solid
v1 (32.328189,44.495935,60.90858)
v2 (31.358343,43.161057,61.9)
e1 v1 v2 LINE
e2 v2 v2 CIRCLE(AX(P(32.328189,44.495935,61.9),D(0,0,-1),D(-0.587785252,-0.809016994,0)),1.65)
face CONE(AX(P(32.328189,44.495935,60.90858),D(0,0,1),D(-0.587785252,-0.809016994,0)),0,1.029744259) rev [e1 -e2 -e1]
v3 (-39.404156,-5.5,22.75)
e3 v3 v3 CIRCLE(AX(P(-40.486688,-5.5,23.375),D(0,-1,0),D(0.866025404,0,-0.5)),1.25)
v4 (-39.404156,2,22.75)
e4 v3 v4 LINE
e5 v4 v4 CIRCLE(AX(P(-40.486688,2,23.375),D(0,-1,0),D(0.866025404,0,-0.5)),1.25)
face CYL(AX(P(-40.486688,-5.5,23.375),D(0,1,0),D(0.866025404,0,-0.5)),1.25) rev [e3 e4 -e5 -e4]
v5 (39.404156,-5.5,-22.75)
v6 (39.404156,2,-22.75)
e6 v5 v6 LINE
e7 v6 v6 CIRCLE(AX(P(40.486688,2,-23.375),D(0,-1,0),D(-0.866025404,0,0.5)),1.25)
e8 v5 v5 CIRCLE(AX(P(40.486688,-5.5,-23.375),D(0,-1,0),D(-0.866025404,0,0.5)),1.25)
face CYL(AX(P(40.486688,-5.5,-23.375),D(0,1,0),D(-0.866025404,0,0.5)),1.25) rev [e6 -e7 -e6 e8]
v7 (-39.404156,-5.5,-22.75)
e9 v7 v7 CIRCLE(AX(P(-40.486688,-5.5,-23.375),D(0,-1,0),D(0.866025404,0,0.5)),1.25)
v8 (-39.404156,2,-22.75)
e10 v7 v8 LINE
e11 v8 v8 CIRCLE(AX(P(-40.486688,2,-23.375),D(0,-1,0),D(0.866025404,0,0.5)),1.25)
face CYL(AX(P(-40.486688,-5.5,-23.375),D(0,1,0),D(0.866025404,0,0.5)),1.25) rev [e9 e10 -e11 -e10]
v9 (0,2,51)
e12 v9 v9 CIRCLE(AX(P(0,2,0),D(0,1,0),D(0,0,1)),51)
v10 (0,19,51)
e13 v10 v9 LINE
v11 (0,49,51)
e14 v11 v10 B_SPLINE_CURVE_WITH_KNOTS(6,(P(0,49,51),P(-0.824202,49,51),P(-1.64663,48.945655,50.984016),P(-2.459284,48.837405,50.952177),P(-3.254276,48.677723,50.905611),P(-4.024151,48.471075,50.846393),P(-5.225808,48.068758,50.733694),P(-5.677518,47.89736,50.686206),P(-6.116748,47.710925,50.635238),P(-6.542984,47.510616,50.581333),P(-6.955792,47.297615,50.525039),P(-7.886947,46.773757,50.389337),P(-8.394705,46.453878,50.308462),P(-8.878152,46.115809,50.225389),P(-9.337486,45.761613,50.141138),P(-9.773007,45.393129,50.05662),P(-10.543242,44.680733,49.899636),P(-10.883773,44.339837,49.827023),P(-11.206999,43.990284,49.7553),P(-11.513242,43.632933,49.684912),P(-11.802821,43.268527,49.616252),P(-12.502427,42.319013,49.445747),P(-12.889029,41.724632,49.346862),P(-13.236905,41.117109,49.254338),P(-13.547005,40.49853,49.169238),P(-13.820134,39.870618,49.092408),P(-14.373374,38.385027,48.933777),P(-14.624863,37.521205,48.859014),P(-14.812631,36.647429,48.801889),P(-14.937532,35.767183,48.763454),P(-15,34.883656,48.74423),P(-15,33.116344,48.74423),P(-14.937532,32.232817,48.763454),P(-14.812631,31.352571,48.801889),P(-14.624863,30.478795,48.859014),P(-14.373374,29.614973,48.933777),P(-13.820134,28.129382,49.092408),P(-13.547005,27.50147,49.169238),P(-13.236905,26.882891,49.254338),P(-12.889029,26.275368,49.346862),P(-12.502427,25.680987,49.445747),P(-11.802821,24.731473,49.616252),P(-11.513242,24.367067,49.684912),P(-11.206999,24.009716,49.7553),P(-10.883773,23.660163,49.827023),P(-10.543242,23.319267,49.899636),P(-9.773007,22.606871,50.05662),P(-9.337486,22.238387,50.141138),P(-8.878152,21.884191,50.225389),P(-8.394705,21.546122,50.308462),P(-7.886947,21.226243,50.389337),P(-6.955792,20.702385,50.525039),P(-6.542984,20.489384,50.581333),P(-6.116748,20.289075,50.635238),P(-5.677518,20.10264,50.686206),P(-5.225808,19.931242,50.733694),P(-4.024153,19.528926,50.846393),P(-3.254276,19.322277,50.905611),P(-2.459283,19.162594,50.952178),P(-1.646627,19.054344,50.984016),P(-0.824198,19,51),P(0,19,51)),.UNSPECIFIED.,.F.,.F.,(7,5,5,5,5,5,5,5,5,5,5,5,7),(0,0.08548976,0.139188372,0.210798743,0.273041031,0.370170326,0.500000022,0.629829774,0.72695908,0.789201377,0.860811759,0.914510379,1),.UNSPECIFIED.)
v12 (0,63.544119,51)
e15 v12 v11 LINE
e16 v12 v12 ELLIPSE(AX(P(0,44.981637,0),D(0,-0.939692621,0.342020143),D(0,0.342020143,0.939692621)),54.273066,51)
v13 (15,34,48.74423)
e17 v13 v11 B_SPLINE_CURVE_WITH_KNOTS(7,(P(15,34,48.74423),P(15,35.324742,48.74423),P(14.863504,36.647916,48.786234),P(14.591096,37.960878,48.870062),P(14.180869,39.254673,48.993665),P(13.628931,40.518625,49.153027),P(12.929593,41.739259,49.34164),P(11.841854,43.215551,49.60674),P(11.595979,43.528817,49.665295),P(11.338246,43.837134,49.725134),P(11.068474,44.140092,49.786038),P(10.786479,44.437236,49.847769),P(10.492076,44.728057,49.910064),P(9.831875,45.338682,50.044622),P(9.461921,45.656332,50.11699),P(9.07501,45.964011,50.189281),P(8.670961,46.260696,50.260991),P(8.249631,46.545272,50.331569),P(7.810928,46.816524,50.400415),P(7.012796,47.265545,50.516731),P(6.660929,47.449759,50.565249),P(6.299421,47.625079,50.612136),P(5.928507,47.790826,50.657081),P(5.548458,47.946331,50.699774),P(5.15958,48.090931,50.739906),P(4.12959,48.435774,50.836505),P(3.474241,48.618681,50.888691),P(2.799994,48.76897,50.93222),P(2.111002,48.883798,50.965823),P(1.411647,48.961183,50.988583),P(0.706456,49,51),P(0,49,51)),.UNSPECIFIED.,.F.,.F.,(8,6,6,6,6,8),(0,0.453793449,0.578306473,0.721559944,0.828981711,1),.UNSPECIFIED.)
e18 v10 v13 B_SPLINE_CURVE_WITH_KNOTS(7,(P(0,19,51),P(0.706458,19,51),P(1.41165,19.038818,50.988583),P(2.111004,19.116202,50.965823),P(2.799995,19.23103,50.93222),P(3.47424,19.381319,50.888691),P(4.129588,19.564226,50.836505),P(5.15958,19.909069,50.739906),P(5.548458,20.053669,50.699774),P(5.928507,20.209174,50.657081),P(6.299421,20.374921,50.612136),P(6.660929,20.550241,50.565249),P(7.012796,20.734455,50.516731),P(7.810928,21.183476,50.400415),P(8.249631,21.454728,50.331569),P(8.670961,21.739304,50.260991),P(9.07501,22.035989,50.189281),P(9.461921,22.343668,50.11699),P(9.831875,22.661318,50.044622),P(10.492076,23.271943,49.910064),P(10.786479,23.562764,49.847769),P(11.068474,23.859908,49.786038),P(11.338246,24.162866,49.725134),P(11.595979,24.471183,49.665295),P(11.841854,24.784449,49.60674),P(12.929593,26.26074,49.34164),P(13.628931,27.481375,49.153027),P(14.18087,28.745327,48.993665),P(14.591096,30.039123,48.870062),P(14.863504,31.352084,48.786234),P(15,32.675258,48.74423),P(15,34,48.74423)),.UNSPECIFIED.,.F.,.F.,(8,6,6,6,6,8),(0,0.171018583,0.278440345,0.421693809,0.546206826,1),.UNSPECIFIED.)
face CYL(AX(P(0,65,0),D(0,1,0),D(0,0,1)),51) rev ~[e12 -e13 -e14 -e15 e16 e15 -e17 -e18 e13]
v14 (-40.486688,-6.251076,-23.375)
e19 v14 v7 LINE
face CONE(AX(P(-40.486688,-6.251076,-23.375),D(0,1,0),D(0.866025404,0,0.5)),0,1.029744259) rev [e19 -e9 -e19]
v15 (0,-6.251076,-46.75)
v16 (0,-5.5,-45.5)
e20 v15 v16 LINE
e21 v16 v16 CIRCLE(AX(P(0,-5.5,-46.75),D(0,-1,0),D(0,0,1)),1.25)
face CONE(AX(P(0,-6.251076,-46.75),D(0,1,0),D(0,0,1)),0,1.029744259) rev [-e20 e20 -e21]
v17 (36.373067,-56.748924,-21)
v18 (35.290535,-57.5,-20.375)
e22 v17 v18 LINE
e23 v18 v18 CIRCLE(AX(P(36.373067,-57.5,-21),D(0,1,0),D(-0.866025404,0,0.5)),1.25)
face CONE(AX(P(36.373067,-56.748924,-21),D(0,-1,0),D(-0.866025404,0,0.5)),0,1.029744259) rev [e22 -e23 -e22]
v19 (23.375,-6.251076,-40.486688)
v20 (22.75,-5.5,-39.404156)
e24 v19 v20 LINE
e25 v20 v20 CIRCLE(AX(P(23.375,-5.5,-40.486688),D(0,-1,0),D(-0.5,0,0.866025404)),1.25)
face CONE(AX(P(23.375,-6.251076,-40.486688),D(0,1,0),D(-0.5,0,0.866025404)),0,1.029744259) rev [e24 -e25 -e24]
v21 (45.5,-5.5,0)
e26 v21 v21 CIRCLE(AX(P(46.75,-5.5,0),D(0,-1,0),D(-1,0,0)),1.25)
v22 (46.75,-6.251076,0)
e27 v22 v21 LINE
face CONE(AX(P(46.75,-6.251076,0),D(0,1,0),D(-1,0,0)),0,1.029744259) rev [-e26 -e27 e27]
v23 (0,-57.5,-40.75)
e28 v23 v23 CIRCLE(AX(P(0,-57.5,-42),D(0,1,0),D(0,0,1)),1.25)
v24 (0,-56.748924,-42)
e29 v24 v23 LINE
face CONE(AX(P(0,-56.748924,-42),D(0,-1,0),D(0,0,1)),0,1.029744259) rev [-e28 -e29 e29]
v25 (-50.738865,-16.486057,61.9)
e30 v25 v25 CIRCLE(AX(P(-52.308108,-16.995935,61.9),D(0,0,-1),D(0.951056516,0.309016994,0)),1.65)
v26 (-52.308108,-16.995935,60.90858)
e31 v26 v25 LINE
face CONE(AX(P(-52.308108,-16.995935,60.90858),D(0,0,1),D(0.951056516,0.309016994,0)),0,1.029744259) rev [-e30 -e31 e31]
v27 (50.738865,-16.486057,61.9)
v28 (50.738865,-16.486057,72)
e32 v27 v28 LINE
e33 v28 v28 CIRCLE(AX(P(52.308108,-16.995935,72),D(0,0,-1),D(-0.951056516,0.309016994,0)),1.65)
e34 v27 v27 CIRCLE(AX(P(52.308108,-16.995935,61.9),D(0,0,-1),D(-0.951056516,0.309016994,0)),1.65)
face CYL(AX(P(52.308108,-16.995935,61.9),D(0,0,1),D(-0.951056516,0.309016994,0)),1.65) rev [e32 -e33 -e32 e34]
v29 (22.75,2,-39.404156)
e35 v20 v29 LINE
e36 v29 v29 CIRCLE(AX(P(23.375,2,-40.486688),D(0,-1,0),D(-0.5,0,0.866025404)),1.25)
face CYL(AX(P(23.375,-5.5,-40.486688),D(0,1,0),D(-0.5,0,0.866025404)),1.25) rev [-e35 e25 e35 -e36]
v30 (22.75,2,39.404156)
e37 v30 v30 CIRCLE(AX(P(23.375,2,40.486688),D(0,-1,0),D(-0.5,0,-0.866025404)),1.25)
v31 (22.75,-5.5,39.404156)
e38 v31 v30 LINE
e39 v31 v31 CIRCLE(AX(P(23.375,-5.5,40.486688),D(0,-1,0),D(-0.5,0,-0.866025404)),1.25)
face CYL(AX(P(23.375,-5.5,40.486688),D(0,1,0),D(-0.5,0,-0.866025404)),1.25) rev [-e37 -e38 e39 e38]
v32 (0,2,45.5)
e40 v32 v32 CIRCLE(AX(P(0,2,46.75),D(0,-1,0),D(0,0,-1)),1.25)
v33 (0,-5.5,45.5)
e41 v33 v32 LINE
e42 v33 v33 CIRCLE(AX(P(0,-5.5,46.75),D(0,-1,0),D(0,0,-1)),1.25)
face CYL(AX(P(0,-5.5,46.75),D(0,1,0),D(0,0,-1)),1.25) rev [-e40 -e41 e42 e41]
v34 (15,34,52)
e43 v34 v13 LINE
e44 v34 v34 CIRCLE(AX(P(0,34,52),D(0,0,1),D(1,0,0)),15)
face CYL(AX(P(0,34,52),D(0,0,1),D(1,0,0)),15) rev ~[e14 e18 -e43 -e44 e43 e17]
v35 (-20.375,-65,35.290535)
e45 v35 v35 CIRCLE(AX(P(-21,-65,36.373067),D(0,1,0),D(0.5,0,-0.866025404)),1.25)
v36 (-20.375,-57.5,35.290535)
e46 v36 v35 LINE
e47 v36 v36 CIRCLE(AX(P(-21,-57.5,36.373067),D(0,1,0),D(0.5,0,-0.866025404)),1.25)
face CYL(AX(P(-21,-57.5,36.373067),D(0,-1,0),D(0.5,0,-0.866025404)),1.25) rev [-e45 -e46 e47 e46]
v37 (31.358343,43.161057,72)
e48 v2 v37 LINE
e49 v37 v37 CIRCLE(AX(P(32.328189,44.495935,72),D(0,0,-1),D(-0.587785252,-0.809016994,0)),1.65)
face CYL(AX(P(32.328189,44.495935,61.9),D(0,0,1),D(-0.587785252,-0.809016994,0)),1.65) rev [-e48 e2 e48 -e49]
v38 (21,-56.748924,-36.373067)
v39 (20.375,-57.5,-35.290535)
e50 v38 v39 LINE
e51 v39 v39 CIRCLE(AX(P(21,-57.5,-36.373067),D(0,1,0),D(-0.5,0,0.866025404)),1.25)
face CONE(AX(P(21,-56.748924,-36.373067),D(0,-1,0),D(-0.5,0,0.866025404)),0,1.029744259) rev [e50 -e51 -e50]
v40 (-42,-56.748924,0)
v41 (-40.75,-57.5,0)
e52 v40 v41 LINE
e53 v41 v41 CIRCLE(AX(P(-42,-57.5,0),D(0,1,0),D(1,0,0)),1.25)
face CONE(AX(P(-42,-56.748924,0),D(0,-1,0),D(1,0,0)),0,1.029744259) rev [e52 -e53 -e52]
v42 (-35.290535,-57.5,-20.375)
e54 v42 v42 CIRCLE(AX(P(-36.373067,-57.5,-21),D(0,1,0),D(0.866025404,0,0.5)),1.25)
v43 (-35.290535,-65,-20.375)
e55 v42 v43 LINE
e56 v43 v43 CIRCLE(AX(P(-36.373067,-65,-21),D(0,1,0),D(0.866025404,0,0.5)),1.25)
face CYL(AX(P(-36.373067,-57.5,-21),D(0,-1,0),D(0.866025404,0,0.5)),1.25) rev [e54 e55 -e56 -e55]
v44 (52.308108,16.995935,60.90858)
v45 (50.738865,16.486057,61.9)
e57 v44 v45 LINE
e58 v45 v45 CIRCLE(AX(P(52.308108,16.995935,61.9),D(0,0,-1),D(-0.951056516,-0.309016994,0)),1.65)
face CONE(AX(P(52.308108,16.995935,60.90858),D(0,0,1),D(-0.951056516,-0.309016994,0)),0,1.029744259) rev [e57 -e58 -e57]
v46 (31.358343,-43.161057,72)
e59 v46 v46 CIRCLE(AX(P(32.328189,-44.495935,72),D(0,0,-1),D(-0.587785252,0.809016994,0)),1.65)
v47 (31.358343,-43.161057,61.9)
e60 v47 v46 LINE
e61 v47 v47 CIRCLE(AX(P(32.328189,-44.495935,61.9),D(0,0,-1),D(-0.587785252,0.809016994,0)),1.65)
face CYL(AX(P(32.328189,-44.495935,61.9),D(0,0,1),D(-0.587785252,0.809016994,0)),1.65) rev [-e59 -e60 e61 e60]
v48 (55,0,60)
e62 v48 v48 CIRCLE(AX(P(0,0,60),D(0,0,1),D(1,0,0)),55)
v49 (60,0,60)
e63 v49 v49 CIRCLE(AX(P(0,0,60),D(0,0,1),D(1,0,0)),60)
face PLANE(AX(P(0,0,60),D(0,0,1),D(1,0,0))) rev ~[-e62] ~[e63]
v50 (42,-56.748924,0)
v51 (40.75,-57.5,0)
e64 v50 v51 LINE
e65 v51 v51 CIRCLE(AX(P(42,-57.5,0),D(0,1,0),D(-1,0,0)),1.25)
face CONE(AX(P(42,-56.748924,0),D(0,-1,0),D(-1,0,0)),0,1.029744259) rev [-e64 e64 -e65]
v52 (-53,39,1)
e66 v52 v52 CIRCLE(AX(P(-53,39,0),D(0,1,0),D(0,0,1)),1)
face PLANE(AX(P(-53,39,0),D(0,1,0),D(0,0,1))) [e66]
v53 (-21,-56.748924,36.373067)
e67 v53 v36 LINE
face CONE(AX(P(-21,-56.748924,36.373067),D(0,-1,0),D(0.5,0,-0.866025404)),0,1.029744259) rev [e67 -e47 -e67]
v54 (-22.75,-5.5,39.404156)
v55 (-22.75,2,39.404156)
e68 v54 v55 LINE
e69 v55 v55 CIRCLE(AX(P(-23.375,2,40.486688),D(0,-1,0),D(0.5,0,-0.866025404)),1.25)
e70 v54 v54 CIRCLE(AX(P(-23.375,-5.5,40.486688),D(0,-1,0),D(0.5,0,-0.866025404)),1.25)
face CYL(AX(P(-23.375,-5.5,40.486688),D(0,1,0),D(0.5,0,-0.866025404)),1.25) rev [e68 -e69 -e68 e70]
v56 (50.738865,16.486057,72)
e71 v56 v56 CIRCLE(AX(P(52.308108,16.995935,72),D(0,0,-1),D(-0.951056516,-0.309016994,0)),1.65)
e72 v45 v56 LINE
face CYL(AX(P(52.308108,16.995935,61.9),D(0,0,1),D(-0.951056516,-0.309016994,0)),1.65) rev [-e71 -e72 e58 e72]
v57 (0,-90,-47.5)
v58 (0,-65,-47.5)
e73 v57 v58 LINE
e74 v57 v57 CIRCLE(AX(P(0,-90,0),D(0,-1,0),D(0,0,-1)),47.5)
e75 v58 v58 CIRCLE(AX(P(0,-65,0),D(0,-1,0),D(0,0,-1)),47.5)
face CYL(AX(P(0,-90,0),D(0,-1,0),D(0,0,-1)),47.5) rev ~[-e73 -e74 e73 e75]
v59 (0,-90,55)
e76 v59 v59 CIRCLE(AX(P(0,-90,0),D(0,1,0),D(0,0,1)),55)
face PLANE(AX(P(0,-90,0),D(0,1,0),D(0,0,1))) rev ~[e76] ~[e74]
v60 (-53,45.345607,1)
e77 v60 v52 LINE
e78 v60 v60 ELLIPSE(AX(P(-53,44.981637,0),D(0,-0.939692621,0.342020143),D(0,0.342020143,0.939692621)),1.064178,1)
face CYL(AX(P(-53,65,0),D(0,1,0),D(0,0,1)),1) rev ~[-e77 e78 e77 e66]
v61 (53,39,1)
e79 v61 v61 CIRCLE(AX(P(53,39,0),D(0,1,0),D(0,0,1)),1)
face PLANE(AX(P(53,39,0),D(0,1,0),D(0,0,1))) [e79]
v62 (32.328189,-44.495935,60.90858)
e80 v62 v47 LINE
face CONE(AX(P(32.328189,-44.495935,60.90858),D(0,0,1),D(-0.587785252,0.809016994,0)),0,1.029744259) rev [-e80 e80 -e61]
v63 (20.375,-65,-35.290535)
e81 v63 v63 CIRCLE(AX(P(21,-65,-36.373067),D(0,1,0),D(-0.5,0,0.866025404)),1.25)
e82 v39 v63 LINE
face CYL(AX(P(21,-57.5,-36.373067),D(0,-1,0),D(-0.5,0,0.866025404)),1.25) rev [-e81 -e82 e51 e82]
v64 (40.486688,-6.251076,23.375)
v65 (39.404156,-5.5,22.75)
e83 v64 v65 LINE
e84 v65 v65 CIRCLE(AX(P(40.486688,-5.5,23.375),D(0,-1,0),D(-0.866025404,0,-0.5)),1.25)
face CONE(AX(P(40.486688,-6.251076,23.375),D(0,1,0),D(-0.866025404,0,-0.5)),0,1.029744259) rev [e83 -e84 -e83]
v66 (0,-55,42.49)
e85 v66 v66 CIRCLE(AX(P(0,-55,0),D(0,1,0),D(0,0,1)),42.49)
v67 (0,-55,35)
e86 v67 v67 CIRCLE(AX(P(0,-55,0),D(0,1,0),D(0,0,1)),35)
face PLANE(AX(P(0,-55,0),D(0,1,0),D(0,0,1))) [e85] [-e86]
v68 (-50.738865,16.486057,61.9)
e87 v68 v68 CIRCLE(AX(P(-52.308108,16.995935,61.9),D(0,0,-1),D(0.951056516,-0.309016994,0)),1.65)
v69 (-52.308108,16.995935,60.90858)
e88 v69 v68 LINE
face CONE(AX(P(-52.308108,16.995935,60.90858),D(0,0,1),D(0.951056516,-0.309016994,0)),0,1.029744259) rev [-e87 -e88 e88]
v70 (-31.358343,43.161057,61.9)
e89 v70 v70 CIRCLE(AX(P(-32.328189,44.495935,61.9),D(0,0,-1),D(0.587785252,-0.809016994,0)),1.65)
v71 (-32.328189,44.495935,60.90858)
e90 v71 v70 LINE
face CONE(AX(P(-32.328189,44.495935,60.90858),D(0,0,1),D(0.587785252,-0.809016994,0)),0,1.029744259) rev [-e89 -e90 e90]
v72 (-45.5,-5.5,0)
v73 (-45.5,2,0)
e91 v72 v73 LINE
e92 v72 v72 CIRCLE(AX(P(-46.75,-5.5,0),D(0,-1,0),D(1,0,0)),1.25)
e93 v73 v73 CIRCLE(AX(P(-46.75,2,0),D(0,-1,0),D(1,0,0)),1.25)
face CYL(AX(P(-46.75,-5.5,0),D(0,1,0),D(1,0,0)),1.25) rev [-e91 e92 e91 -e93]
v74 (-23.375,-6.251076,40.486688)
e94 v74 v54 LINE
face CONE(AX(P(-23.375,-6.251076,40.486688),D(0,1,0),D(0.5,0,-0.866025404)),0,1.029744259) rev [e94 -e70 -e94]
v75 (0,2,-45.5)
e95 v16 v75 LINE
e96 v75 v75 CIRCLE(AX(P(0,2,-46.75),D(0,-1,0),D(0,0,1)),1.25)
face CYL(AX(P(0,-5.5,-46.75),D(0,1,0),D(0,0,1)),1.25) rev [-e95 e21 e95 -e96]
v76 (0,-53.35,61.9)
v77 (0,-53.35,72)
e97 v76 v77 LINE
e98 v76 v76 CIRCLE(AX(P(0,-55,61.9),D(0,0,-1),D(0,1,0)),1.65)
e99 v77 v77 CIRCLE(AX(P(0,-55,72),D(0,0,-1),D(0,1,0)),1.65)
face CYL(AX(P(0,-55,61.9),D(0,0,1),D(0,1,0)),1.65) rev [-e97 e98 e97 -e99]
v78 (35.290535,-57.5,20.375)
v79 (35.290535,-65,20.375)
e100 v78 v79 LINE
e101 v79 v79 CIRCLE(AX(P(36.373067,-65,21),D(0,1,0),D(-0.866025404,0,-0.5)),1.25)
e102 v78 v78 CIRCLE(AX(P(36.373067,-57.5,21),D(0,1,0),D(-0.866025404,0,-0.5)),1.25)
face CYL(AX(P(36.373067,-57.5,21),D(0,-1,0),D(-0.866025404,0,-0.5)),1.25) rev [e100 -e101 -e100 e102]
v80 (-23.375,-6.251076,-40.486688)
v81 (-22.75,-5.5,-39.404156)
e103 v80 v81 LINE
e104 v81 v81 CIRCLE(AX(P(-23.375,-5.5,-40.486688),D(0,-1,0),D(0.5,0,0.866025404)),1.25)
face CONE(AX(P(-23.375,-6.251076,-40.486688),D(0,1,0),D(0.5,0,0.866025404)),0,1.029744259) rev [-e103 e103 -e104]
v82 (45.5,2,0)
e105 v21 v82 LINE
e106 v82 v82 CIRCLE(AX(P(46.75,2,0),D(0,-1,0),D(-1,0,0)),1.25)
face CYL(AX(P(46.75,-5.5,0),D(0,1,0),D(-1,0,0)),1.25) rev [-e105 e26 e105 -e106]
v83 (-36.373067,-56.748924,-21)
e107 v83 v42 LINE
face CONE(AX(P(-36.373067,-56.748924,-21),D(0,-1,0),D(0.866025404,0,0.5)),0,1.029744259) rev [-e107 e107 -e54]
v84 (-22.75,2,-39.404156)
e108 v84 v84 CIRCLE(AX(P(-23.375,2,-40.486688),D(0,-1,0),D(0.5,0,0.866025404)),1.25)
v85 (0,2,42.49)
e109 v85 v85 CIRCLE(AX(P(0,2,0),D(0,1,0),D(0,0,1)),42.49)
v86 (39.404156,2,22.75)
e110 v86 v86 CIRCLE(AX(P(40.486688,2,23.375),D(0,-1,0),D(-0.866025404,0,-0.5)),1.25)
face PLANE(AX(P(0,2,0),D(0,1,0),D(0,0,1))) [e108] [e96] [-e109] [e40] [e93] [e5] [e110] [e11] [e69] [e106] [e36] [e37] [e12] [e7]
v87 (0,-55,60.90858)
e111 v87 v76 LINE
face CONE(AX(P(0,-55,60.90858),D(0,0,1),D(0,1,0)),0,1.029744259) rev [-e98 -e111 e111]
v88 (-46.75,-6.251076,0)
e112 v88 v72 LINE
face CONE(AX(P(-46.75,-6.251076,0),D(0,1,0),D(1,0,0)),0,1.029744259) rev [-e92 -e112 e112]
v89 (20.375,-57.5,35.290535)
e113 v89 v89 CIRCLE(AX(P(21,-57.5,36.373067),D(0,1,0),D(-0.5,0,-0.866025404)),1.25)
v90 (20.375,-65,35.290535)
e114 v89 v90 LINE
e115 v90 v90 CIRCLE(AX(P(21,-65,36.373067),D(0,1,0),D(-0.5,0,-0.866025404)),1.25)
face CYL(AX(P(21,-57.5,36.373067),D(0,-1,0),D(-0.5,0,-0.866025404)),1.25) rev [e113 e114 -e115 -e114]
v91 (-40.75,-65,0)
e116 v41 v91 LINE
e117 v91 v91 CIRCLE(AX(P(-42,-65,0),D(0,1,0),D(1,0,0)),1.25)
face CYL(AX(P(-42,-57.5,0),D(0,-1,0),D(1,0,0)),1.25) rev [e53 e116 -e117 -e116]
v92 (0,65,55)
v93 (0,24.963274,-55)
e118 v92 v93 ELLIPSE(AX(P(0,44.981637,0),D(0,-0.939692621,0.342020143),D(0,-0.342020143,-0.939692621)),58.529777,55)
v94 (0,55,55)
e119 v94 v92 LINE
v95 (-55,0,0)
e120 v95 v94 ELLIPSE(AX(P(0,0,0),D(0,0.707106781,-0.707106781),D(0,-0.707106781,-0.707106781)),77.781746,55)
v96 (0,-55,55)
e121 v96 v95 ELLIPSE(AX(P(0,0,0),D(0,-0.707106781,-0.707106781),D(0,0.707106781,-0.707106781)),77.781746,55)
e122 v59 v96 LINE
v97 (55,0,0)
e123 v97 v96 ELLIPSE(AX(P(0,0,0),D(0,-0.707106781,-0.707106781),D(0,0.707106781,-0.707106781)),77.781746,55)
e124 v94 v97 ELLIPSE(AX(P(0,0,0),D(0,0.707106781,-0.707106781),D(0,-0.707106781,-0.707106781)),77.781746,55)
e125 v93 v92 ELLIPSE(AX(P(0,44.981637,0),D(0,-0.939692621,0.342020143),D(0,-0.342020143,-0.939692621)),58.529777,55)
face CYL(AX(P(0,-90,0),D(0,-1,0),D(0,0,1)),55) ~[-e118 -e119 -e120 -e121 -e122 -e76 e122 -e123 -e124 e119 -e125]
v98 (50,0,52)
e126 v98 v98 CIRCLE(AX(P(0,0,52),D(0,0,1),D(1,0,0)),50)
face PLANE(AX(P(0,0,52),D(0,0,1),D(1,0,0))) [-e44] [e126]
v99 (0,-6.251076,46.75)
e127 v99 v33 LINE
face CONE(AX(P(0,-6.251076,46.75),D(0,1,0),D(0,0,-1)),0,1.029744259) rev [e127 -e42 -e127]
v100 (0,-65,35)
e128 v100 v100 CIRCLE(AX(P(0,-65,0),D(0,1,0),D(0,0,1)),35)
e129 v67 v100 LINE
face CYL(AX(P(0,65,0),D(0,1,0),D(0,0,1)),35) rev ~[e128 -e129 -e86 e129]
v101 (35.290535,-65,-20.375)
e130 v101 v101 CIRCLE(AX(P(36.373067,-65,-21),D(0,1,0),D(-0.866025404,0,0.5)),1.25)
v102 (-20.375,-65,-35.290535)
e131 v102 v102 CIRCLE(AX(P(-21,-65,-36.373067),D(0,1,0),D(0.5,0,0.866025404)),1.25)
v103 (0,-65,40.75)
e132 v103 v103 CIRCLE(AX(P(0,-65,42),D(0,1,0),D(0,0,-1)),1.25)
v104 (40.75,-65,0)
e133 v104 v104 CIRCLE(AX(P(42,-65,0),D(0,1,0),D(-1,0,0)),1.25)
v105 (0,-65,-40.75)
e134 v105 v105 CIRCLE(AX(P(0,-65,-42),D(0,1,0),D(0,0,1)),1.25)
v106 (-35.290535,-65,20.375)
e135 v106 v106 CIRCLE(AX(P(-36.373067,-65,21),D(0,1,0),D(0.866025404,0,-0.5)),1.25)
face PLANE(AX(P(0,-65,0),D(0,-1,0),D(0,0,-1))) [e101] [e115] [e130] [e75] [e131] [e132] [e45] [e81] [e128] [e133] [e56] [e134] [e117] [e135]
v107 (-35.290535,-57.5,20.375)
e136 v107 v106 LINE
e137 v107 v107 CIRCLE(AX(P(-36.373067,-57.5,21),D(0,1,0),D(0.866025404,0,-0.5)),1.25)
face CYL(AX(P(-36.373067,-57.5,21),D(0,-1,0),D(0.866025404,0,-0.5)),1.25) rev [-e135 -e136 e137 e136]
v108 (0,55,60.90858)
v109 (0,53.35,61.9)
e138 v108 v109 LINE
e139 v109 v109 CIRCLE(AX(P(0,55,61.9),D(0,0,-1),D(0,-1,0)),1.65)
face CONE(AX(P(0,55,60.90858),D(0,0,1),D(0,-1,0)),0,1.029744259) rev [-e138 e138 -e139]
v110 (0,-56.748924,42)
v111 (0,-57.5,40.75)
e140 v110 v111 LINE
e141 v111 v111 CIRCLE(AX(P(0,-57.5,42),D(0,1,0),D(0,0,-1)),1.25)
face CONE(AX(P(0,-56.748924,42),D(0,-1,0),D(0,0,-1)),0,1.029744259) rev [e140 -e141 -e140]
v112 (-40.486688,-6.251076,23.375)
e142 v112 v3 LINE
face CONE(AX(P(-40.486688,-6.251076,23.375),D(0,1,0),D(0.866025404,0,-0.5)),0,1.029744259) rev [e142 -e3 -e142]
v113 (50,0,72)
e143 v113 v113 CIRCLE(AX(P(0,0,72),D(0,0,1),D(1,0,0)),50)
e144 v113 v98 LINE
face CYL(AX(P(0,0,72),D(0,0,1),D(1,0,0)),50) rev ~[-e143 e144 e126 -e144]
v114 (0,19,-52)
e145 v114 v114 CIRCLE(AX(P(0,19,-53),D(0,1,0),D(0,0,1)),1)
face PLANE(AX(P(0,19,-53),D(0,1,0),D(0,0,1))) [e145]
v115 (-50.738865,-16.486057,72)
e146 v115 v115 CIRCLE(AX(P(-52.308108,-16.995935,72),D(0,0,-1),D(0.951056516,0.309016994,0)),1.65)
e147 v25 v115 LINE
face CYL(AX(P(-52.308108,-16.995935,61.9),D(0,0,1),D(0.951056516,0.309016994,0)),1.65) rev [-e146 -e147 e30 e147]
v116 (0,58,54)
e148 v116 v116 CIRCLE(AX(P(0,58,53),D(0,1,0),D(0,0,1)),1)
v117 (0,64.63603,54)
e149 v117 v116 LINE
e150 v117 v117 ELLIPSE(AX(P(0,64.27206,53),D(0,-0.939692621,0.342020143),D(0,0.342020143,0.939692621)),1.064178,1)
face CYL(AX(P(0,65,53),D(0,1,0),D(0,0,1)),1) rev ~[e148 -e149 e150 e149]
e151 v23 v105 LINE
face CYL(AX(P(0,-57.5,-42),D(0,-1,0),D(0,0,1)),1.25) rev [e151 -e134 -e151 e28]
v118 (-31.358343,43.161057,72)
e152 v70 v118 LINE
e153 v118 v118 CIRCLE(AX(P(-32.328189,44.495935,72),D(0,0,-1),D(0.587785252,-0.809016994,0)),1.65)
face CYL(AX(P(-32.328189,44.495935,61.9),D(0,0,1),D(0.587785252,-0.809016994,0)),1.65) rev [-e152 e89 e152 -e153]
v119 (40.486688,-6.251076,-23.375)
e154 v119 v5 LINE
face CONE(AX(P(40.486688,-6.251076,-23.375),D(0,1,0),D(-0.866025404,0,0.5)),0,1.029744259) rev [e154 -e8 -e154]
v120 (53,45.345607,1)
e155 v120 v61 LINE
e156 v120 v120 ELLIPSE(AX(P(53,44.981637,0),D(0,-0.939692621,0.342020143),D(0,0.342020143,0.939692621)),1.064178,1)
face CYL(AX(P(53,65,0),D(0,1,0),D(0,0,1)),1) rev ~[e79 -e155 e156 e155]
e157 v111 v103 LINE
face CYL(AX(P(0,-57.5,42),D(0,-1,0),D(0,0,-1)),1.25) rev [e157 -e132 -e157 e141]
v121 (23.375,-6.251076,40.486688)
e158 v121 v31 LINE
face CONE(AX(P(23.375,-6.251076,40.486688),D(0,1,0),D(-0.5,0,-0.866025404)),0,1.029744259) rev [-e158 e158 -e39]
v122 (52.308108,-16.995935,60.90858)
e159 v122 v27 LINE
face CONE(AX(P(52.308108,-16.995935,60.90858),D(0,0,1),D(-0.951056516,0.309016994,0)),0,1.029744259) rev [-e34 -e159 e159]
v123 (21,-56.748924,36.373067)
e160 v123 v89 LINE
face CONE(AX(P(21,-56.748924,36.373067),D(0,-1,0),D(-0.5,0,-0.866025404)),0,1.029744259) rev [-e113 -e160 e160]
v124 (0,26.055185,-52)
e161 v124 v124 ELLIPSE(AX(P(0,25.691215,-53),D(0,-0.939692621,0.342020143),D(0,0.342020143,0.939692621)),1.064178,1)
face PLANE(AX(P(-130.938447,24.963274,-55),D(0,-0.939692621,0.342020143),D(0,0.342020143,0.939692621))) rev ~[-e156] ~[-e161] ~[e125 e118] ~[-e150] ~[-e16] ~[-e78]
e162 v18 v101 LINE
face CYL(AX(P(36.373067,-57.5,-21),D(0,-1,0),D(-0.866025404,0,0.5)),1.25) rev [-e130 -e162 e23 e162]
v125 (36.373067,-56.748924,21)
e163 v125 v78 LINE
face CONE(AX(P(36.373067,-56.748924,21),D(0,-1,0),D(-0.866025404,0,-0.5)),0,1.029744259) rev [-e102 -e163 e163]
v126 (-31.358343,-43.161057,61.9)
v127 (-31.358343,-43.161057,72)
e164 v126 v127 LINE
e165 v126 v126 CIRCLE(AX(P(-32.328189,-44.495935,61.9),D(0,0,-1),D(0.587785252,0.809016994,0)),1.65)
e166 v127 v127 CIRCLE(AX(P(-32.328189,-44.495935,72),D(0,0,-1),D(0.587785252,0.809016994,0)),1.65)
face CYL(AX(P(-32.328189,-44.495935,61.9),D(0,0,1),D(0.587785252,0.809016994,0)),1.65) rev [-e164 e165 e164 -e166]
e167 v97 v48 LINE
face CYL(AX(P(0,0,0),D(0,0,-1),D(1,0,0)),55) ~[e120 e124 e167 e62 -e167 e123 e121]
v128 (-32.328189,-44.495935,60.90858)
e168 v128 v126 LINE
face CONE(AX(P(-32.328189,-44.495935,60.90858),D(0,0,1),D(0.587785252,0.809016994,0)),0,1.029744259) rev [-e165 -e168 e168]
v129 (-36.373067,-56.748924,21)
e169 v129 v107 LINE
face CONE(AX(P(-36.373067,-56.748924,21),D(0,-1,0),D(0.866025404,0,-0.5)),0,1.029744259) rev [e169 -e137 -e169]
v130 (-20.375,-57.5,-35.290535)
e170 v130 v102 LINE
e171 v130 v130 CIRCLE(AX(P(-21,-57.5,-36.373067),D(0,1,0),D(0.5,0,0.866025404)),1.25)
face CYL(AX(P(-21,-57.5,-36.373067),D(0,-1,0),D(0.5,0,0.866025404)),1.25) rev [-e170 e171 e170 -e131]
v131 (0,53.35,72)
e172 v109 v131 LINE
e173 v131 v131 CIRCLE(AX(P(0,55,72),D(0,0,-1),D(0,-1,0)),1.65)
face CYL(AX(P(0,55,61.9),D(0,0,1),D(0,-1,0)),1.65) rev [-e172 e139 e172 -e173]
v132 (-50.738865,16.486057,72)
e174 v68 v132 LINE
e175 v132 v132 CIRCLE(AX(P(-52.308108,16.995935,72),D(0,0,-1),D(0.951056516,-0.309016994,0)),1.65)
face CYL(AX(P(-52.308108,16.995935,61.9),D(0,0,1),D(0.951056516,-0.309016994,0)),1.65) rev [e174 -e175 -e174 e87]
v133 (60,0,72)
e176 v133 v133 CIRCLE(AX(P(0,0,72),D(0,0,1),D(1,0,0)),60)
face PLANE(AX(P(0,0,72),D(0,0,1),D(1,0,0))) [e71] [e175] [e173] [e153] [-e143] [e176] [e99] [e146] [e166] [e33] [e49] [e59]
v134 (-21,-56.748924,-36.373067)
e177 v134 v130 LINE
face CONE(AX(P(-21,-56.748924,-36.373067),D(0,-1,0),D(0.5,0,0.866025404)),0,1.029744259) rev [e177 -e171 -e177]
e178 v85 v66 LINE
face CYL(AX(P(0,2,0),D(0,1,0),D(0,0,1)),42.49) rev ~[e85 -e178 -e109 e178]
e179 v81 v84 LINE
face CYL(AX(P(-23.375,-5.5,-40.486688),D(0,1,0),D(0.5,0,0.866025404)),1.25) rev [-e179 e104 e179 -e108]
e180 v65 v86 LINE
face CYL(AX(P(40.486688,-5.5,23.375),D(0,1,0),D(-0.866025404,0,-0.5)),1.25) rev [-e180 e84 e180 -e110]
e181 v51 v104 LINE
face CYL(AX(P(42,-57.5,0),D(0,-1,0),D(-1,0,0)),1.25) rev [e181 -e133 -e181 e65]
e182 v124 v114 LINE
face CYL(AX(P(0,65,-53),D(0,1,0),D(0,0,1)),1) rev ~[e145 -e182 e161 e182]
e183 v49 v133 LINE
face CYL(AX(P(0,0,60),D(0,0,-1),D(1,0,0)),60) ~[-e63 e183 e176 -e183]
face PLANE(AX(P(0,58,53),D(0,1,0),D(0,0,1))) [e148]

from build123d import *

# Parameters (mm, degrees)
SKETCH_1_R               = 55
EXTRUDE_4_DEPTH          = 60
EXTRUDE_5_DEPTH          = 65
EXTRUDE_5_DEPTH_BACK     = 90
SKETCH_7_R               = 55
SKETCH_8_R               = 35
CUT_EXTRUDE_1_DEPTH      = 176.071414
SKETCH_10_R              = 60
EXTRUDE_6_DEPTH          = 12
SKETCH_11_R              = 35
CUT_EXTRUDE_3_DEPTH      = 20
PATTERN_CIRCULAR_1_COUNT = 10
SKETCH_14_R              = 50
CUT_EXTRUDE_4_DEPTH      = 20
SKETCH_16_R              = 47.5
CUT_EXTRUDE_5_DEPTH      = 25
PATTERN_CIRCULAR_2_COUNT = 12
SKETCH_19_R              = 51
CUT_EXTRUDE_6_DEPTH      = 63
SKETCH_21_R              = 42.49
CUT_EXTRUDE_7_DEPTH      = 57
PATTERN_CIRCULAR_3_COUNT = 12
CUT_EXTRUDE_8_DEPTH      = 130.938446966
CUT_EXTRUDE_8_DEPTH_BACK = 130.938446966
SKETCH_25_R              = 1
CUT_EXTRUDE_9_DEPTH      = 26
SKETCH_26_R              = 1
CUT_EXTRUDE_10_DEPTH     = 46
SKETCH_27_R              = 1
CUT_EXTRUDE_11_DEPTH     = 7
SKETCH_28_R              = 15
CUT_EXTRUDE_13_DEPTH     = 20


with BuildPart() as part:
    # 草图1 → 凸台-拉伸4 (new body)
    with BuildSketch(Plane.XY):
        Circle(SKETCH_1_R)
    extrude(amount=EXTRUDE_4_DEPTH)

    # 草图7 → 凸台-拉伸5 (add, two sides: drawn at the far end of the back side and taken through both)
    with BuildSketch(Plane(origin=(0, 0, 0), x_dir=(1, 0, 0), z_dir=(0, 1, 0)).offset(-EXTRUDE_5_DEPTH_BACK)):
        with Locations(Location((0, 0, 0), (0, 0, 270))):
            Circle(SKETCH_7_R)
    extrude(amount=EXTRUDE_5_DEPTH + EXTRUDE_5_DEPTH_BACK)

    # 草图8 → 切除-拉伸1 (cut, through all)
    with BuildSketch(Plane(origin=(0, 65, 0), x_dir=(1, 0, 0), z_dir=(0, 1, 0))):
        with Locations(Location((0, 0, 0), (0, 0, 270))):
            Circle(SKETCH_8_R)
    extrude(amount=-CUT_EXTRUDE_1_DEPTH, mode=Mode.SUBTRACT)

    # 草图10 → 凸台-拉伸6 (add)
    with BuildSketch(Plane.XY.offset(60)):
        Circle(SKETCH_10_R)
    extrude(amount=EXTRUDE_6_DEPTH)

    # 草图11 → 切除-拉伸3 (cut)
    with BuildSketch(Plane.XY.offset(72)):
        Circle(SKETCH_11_R)
    extrude(amount=-CUT_EXTRUDE_3_DEPTH, mode=Mode.SUBTRACT)

    # 草图12 → M4 螺纹孔1 (revolve, cut)
    with BuildSketch(Plane(origin=(0, 55, 72), x_dir=(0, -1, 0), z_dir=(1, 0, 0))):
        Polygon((0, 0), (0, 11.091420021), (1.65, 10.1), (1.65, 0), align=None)
    hole_wizard_m4_1 = revolve(axis=Axis((0, 55, 78.35), (0, 0, -1)), mode=Mode.SUBTRACT)

    # 阵列(圆周)1: M4 螺纹孔1 ×10 about axis
    pattern_circular_1_axis = Axis((0, 0, 0), (0, 0, 1))
    for i in range(1, PATTERN_CIRCULAR_1_COUNT):
        add(hole_wizard_m4_1.rotate(pattern_circular_1_axis, i * 360 / PATTERN_CIRCULAR_1_COUNT), mode=Mode.SUBTRACT)

    # 草图14 → 切除-拉伸4 (cut)
    with BuildSketch(Plane.XY.offset(72)):
        Circle(SKETCH_14_R)
    extrude(amount=-CUT_EXTRUDE_4_DEPTH, mode=Mode.SUBTRACT)

    # 草图16 → 切除-拉伸5 (cut)
    with BuildSketch(Plane.XZ.offset(90)):
        with Locations(Location((0, 0, 0), (0, 0, 270))):
            Circle(SKETCH_16_R)
    extrude(amount=-CUT_EXTRUDE_5_DEPTH, mode=Mode.SUBTRACT)

    # 草图17 → M3 螺纹孔1 (revolve, cut)
    with BuildSketch(Plane(origin=(0, -65, 42), x_dir=(0, 0, -1), z_dir=(1, 0, 0))):
        Polygon((0, 0), (0, 8.251075774), (1.25, 7.5), (1.25, 0), align=None)
    hole_wizard_m3_1 = revolve(axis=Axis((0, -71.35, 42), (0, 1, 0)), mode=Mode.SUBTRACT)

    # 阵列(圆周)2: M3 螺纹孔1 ×12 about axis
    pattern_circular_2_axis = Axis((0, 0, 0), (0, 1, 0))
    for i in range(1, PATTERN_CIRCULAR_2_COUNT):
        add(hole_wizard_m3_1.rotate(pattern_circular_2_axis, i * 360 / PATTERN_CIRCULAR_2_COUNT), mode=Mode.SUBTRACT)

    # 草图19 → 切除-拉伸6 (cut)
    with BuildSketch(Plane(origin=(0, 65, 0), x_dir=(1, 0, 0), z_dir=(0, 1, 0))):
        with Locations(Location((0, 0, 0), (0, 0, 270))):
            Circle(SKETCH_19_R)
    extrude(amount=-CUT_EXTRUDE_6_DEPTH, mode=Mode.SUBTRACT)

    # 草图21 → 切除-拉伸7 (cut)
    with BuildSketch(Plane(origin=(0, 2, 0), x_dir=(1, 0, 0), z_dir=(0, 1, 0))):
        with Locations(Location((0, 0, 0), (0, 0, 270))):
            Circle(SKETCH_21_R)
    extrude(amount=-CUT_EXTRUDE_7_DEPTH, mode=Mode.SUBTRACT)

    # 草图22 → M3 螺纹孔2 (revolve, cut)
    with BuildSketch(Plane(origin=(0, 2, -46.75), x_dir=(0, 0, 1), z_dir=(1, 0, 0))):
        Polygon((0, 0), (0, 8.251075774), (1.25, 7.5), (1.25, 0), align=None)
    hole_wizard_m3_2 = revolve(axis=Axis((0, 8.35, -46.75), (0, -1, 0)), mode=Mode.SUBTRACT)

    # 阵列(圆周)3: M3 螺纹孔2 ×12 about axis
    pattern_circular_3_axis = Axis((0, 0, 0), (0, 1, 0))
    for i in range(1, PATTERN_CIRCULAR_3_COUNT):
        add(hole_wizard_m3_2.rotate(pattern_circular_3_axis, i * 360 / PATTERN_CIRCULAR_3_COUNT), mode=Mode.SUBTRACT)

    # 草图24 → 切除-拉伸8 (cut, two sides: drawn at the far end of the back side and taken through both)
    with BuildSketch(Plane(origin=(0, 0, 0), x_dir=(0, 0, -1), z_dir=(1, 0, 0)).offset(-CUT_EXTRUDE_8_DEPTH_BACK)):
        Polygon((-55, 65), (55, 65), (55, 24.963274231), align=None)
    extrude(amount=CUT_EXTRUDE_8_DEPTH + CUT_EXTRUDE_8_DEPTH_BACK, mode=Mode.SUBTRACT)

    # 草图25 → 切除-拉伸9 (cut)
    with BuildSketch(Plane(origin=(0, 65, 0), x_dir=(1, 0, 0), z_dir=(0, 1, 0))):
        with Locations(Location((53, 0, 0), (0, 0, 270))):
            Circle(SKETCH_25_R)
        with Locations(Location((-53, 0, 0), (0, 0, 270))):
            Circle(SKETCH_25_R)
    extrude(amount=-CUT_EXTRUDE_9_DEPTH, mode=Mode.SUBTRACT)

    # 草图26 → 切除-拉伸10 (cut)
    with BuildSketch(Plane(origin=(0, 65, 0), x_dir=(1, 0, 0), z_dir=(0, 1, 0))):
        with Locations(Location((0, 53, 0), (0, 0, 270))):
            Circle(SKETCH_26_R)
    extrude(amount=-CUT_EXTRUDE_10_DEPTH, mode=Mode.SUBTRACT)

    # 草图27 → 切除-拉伸11 (cut)
    with BuildSketch(Plane(origin=(0, 65, 0), x_dir=(1, 0, 0), z_dir=(0, 1, 0))):
        with Locations(Location((0, -53, 0), (0, 0, 270))):
            Circle(SKETCH_27_R)
    extrude(amount=-CUT_EXTRUDE_11_DEPTH, mode=Mode.SUBTRACT)

    # 草图28 → 切除-拉伸13 (cut)
    with BuildSketch(Plane.XY.offset(52)):
        with Locations((0, 34)):
            Circle(SKETCH_28_R)
    extrude(amount=-CUT_EXTRUDE_13_DEPTH, mode=Mode.SUBTRACT)


solid = part.part
